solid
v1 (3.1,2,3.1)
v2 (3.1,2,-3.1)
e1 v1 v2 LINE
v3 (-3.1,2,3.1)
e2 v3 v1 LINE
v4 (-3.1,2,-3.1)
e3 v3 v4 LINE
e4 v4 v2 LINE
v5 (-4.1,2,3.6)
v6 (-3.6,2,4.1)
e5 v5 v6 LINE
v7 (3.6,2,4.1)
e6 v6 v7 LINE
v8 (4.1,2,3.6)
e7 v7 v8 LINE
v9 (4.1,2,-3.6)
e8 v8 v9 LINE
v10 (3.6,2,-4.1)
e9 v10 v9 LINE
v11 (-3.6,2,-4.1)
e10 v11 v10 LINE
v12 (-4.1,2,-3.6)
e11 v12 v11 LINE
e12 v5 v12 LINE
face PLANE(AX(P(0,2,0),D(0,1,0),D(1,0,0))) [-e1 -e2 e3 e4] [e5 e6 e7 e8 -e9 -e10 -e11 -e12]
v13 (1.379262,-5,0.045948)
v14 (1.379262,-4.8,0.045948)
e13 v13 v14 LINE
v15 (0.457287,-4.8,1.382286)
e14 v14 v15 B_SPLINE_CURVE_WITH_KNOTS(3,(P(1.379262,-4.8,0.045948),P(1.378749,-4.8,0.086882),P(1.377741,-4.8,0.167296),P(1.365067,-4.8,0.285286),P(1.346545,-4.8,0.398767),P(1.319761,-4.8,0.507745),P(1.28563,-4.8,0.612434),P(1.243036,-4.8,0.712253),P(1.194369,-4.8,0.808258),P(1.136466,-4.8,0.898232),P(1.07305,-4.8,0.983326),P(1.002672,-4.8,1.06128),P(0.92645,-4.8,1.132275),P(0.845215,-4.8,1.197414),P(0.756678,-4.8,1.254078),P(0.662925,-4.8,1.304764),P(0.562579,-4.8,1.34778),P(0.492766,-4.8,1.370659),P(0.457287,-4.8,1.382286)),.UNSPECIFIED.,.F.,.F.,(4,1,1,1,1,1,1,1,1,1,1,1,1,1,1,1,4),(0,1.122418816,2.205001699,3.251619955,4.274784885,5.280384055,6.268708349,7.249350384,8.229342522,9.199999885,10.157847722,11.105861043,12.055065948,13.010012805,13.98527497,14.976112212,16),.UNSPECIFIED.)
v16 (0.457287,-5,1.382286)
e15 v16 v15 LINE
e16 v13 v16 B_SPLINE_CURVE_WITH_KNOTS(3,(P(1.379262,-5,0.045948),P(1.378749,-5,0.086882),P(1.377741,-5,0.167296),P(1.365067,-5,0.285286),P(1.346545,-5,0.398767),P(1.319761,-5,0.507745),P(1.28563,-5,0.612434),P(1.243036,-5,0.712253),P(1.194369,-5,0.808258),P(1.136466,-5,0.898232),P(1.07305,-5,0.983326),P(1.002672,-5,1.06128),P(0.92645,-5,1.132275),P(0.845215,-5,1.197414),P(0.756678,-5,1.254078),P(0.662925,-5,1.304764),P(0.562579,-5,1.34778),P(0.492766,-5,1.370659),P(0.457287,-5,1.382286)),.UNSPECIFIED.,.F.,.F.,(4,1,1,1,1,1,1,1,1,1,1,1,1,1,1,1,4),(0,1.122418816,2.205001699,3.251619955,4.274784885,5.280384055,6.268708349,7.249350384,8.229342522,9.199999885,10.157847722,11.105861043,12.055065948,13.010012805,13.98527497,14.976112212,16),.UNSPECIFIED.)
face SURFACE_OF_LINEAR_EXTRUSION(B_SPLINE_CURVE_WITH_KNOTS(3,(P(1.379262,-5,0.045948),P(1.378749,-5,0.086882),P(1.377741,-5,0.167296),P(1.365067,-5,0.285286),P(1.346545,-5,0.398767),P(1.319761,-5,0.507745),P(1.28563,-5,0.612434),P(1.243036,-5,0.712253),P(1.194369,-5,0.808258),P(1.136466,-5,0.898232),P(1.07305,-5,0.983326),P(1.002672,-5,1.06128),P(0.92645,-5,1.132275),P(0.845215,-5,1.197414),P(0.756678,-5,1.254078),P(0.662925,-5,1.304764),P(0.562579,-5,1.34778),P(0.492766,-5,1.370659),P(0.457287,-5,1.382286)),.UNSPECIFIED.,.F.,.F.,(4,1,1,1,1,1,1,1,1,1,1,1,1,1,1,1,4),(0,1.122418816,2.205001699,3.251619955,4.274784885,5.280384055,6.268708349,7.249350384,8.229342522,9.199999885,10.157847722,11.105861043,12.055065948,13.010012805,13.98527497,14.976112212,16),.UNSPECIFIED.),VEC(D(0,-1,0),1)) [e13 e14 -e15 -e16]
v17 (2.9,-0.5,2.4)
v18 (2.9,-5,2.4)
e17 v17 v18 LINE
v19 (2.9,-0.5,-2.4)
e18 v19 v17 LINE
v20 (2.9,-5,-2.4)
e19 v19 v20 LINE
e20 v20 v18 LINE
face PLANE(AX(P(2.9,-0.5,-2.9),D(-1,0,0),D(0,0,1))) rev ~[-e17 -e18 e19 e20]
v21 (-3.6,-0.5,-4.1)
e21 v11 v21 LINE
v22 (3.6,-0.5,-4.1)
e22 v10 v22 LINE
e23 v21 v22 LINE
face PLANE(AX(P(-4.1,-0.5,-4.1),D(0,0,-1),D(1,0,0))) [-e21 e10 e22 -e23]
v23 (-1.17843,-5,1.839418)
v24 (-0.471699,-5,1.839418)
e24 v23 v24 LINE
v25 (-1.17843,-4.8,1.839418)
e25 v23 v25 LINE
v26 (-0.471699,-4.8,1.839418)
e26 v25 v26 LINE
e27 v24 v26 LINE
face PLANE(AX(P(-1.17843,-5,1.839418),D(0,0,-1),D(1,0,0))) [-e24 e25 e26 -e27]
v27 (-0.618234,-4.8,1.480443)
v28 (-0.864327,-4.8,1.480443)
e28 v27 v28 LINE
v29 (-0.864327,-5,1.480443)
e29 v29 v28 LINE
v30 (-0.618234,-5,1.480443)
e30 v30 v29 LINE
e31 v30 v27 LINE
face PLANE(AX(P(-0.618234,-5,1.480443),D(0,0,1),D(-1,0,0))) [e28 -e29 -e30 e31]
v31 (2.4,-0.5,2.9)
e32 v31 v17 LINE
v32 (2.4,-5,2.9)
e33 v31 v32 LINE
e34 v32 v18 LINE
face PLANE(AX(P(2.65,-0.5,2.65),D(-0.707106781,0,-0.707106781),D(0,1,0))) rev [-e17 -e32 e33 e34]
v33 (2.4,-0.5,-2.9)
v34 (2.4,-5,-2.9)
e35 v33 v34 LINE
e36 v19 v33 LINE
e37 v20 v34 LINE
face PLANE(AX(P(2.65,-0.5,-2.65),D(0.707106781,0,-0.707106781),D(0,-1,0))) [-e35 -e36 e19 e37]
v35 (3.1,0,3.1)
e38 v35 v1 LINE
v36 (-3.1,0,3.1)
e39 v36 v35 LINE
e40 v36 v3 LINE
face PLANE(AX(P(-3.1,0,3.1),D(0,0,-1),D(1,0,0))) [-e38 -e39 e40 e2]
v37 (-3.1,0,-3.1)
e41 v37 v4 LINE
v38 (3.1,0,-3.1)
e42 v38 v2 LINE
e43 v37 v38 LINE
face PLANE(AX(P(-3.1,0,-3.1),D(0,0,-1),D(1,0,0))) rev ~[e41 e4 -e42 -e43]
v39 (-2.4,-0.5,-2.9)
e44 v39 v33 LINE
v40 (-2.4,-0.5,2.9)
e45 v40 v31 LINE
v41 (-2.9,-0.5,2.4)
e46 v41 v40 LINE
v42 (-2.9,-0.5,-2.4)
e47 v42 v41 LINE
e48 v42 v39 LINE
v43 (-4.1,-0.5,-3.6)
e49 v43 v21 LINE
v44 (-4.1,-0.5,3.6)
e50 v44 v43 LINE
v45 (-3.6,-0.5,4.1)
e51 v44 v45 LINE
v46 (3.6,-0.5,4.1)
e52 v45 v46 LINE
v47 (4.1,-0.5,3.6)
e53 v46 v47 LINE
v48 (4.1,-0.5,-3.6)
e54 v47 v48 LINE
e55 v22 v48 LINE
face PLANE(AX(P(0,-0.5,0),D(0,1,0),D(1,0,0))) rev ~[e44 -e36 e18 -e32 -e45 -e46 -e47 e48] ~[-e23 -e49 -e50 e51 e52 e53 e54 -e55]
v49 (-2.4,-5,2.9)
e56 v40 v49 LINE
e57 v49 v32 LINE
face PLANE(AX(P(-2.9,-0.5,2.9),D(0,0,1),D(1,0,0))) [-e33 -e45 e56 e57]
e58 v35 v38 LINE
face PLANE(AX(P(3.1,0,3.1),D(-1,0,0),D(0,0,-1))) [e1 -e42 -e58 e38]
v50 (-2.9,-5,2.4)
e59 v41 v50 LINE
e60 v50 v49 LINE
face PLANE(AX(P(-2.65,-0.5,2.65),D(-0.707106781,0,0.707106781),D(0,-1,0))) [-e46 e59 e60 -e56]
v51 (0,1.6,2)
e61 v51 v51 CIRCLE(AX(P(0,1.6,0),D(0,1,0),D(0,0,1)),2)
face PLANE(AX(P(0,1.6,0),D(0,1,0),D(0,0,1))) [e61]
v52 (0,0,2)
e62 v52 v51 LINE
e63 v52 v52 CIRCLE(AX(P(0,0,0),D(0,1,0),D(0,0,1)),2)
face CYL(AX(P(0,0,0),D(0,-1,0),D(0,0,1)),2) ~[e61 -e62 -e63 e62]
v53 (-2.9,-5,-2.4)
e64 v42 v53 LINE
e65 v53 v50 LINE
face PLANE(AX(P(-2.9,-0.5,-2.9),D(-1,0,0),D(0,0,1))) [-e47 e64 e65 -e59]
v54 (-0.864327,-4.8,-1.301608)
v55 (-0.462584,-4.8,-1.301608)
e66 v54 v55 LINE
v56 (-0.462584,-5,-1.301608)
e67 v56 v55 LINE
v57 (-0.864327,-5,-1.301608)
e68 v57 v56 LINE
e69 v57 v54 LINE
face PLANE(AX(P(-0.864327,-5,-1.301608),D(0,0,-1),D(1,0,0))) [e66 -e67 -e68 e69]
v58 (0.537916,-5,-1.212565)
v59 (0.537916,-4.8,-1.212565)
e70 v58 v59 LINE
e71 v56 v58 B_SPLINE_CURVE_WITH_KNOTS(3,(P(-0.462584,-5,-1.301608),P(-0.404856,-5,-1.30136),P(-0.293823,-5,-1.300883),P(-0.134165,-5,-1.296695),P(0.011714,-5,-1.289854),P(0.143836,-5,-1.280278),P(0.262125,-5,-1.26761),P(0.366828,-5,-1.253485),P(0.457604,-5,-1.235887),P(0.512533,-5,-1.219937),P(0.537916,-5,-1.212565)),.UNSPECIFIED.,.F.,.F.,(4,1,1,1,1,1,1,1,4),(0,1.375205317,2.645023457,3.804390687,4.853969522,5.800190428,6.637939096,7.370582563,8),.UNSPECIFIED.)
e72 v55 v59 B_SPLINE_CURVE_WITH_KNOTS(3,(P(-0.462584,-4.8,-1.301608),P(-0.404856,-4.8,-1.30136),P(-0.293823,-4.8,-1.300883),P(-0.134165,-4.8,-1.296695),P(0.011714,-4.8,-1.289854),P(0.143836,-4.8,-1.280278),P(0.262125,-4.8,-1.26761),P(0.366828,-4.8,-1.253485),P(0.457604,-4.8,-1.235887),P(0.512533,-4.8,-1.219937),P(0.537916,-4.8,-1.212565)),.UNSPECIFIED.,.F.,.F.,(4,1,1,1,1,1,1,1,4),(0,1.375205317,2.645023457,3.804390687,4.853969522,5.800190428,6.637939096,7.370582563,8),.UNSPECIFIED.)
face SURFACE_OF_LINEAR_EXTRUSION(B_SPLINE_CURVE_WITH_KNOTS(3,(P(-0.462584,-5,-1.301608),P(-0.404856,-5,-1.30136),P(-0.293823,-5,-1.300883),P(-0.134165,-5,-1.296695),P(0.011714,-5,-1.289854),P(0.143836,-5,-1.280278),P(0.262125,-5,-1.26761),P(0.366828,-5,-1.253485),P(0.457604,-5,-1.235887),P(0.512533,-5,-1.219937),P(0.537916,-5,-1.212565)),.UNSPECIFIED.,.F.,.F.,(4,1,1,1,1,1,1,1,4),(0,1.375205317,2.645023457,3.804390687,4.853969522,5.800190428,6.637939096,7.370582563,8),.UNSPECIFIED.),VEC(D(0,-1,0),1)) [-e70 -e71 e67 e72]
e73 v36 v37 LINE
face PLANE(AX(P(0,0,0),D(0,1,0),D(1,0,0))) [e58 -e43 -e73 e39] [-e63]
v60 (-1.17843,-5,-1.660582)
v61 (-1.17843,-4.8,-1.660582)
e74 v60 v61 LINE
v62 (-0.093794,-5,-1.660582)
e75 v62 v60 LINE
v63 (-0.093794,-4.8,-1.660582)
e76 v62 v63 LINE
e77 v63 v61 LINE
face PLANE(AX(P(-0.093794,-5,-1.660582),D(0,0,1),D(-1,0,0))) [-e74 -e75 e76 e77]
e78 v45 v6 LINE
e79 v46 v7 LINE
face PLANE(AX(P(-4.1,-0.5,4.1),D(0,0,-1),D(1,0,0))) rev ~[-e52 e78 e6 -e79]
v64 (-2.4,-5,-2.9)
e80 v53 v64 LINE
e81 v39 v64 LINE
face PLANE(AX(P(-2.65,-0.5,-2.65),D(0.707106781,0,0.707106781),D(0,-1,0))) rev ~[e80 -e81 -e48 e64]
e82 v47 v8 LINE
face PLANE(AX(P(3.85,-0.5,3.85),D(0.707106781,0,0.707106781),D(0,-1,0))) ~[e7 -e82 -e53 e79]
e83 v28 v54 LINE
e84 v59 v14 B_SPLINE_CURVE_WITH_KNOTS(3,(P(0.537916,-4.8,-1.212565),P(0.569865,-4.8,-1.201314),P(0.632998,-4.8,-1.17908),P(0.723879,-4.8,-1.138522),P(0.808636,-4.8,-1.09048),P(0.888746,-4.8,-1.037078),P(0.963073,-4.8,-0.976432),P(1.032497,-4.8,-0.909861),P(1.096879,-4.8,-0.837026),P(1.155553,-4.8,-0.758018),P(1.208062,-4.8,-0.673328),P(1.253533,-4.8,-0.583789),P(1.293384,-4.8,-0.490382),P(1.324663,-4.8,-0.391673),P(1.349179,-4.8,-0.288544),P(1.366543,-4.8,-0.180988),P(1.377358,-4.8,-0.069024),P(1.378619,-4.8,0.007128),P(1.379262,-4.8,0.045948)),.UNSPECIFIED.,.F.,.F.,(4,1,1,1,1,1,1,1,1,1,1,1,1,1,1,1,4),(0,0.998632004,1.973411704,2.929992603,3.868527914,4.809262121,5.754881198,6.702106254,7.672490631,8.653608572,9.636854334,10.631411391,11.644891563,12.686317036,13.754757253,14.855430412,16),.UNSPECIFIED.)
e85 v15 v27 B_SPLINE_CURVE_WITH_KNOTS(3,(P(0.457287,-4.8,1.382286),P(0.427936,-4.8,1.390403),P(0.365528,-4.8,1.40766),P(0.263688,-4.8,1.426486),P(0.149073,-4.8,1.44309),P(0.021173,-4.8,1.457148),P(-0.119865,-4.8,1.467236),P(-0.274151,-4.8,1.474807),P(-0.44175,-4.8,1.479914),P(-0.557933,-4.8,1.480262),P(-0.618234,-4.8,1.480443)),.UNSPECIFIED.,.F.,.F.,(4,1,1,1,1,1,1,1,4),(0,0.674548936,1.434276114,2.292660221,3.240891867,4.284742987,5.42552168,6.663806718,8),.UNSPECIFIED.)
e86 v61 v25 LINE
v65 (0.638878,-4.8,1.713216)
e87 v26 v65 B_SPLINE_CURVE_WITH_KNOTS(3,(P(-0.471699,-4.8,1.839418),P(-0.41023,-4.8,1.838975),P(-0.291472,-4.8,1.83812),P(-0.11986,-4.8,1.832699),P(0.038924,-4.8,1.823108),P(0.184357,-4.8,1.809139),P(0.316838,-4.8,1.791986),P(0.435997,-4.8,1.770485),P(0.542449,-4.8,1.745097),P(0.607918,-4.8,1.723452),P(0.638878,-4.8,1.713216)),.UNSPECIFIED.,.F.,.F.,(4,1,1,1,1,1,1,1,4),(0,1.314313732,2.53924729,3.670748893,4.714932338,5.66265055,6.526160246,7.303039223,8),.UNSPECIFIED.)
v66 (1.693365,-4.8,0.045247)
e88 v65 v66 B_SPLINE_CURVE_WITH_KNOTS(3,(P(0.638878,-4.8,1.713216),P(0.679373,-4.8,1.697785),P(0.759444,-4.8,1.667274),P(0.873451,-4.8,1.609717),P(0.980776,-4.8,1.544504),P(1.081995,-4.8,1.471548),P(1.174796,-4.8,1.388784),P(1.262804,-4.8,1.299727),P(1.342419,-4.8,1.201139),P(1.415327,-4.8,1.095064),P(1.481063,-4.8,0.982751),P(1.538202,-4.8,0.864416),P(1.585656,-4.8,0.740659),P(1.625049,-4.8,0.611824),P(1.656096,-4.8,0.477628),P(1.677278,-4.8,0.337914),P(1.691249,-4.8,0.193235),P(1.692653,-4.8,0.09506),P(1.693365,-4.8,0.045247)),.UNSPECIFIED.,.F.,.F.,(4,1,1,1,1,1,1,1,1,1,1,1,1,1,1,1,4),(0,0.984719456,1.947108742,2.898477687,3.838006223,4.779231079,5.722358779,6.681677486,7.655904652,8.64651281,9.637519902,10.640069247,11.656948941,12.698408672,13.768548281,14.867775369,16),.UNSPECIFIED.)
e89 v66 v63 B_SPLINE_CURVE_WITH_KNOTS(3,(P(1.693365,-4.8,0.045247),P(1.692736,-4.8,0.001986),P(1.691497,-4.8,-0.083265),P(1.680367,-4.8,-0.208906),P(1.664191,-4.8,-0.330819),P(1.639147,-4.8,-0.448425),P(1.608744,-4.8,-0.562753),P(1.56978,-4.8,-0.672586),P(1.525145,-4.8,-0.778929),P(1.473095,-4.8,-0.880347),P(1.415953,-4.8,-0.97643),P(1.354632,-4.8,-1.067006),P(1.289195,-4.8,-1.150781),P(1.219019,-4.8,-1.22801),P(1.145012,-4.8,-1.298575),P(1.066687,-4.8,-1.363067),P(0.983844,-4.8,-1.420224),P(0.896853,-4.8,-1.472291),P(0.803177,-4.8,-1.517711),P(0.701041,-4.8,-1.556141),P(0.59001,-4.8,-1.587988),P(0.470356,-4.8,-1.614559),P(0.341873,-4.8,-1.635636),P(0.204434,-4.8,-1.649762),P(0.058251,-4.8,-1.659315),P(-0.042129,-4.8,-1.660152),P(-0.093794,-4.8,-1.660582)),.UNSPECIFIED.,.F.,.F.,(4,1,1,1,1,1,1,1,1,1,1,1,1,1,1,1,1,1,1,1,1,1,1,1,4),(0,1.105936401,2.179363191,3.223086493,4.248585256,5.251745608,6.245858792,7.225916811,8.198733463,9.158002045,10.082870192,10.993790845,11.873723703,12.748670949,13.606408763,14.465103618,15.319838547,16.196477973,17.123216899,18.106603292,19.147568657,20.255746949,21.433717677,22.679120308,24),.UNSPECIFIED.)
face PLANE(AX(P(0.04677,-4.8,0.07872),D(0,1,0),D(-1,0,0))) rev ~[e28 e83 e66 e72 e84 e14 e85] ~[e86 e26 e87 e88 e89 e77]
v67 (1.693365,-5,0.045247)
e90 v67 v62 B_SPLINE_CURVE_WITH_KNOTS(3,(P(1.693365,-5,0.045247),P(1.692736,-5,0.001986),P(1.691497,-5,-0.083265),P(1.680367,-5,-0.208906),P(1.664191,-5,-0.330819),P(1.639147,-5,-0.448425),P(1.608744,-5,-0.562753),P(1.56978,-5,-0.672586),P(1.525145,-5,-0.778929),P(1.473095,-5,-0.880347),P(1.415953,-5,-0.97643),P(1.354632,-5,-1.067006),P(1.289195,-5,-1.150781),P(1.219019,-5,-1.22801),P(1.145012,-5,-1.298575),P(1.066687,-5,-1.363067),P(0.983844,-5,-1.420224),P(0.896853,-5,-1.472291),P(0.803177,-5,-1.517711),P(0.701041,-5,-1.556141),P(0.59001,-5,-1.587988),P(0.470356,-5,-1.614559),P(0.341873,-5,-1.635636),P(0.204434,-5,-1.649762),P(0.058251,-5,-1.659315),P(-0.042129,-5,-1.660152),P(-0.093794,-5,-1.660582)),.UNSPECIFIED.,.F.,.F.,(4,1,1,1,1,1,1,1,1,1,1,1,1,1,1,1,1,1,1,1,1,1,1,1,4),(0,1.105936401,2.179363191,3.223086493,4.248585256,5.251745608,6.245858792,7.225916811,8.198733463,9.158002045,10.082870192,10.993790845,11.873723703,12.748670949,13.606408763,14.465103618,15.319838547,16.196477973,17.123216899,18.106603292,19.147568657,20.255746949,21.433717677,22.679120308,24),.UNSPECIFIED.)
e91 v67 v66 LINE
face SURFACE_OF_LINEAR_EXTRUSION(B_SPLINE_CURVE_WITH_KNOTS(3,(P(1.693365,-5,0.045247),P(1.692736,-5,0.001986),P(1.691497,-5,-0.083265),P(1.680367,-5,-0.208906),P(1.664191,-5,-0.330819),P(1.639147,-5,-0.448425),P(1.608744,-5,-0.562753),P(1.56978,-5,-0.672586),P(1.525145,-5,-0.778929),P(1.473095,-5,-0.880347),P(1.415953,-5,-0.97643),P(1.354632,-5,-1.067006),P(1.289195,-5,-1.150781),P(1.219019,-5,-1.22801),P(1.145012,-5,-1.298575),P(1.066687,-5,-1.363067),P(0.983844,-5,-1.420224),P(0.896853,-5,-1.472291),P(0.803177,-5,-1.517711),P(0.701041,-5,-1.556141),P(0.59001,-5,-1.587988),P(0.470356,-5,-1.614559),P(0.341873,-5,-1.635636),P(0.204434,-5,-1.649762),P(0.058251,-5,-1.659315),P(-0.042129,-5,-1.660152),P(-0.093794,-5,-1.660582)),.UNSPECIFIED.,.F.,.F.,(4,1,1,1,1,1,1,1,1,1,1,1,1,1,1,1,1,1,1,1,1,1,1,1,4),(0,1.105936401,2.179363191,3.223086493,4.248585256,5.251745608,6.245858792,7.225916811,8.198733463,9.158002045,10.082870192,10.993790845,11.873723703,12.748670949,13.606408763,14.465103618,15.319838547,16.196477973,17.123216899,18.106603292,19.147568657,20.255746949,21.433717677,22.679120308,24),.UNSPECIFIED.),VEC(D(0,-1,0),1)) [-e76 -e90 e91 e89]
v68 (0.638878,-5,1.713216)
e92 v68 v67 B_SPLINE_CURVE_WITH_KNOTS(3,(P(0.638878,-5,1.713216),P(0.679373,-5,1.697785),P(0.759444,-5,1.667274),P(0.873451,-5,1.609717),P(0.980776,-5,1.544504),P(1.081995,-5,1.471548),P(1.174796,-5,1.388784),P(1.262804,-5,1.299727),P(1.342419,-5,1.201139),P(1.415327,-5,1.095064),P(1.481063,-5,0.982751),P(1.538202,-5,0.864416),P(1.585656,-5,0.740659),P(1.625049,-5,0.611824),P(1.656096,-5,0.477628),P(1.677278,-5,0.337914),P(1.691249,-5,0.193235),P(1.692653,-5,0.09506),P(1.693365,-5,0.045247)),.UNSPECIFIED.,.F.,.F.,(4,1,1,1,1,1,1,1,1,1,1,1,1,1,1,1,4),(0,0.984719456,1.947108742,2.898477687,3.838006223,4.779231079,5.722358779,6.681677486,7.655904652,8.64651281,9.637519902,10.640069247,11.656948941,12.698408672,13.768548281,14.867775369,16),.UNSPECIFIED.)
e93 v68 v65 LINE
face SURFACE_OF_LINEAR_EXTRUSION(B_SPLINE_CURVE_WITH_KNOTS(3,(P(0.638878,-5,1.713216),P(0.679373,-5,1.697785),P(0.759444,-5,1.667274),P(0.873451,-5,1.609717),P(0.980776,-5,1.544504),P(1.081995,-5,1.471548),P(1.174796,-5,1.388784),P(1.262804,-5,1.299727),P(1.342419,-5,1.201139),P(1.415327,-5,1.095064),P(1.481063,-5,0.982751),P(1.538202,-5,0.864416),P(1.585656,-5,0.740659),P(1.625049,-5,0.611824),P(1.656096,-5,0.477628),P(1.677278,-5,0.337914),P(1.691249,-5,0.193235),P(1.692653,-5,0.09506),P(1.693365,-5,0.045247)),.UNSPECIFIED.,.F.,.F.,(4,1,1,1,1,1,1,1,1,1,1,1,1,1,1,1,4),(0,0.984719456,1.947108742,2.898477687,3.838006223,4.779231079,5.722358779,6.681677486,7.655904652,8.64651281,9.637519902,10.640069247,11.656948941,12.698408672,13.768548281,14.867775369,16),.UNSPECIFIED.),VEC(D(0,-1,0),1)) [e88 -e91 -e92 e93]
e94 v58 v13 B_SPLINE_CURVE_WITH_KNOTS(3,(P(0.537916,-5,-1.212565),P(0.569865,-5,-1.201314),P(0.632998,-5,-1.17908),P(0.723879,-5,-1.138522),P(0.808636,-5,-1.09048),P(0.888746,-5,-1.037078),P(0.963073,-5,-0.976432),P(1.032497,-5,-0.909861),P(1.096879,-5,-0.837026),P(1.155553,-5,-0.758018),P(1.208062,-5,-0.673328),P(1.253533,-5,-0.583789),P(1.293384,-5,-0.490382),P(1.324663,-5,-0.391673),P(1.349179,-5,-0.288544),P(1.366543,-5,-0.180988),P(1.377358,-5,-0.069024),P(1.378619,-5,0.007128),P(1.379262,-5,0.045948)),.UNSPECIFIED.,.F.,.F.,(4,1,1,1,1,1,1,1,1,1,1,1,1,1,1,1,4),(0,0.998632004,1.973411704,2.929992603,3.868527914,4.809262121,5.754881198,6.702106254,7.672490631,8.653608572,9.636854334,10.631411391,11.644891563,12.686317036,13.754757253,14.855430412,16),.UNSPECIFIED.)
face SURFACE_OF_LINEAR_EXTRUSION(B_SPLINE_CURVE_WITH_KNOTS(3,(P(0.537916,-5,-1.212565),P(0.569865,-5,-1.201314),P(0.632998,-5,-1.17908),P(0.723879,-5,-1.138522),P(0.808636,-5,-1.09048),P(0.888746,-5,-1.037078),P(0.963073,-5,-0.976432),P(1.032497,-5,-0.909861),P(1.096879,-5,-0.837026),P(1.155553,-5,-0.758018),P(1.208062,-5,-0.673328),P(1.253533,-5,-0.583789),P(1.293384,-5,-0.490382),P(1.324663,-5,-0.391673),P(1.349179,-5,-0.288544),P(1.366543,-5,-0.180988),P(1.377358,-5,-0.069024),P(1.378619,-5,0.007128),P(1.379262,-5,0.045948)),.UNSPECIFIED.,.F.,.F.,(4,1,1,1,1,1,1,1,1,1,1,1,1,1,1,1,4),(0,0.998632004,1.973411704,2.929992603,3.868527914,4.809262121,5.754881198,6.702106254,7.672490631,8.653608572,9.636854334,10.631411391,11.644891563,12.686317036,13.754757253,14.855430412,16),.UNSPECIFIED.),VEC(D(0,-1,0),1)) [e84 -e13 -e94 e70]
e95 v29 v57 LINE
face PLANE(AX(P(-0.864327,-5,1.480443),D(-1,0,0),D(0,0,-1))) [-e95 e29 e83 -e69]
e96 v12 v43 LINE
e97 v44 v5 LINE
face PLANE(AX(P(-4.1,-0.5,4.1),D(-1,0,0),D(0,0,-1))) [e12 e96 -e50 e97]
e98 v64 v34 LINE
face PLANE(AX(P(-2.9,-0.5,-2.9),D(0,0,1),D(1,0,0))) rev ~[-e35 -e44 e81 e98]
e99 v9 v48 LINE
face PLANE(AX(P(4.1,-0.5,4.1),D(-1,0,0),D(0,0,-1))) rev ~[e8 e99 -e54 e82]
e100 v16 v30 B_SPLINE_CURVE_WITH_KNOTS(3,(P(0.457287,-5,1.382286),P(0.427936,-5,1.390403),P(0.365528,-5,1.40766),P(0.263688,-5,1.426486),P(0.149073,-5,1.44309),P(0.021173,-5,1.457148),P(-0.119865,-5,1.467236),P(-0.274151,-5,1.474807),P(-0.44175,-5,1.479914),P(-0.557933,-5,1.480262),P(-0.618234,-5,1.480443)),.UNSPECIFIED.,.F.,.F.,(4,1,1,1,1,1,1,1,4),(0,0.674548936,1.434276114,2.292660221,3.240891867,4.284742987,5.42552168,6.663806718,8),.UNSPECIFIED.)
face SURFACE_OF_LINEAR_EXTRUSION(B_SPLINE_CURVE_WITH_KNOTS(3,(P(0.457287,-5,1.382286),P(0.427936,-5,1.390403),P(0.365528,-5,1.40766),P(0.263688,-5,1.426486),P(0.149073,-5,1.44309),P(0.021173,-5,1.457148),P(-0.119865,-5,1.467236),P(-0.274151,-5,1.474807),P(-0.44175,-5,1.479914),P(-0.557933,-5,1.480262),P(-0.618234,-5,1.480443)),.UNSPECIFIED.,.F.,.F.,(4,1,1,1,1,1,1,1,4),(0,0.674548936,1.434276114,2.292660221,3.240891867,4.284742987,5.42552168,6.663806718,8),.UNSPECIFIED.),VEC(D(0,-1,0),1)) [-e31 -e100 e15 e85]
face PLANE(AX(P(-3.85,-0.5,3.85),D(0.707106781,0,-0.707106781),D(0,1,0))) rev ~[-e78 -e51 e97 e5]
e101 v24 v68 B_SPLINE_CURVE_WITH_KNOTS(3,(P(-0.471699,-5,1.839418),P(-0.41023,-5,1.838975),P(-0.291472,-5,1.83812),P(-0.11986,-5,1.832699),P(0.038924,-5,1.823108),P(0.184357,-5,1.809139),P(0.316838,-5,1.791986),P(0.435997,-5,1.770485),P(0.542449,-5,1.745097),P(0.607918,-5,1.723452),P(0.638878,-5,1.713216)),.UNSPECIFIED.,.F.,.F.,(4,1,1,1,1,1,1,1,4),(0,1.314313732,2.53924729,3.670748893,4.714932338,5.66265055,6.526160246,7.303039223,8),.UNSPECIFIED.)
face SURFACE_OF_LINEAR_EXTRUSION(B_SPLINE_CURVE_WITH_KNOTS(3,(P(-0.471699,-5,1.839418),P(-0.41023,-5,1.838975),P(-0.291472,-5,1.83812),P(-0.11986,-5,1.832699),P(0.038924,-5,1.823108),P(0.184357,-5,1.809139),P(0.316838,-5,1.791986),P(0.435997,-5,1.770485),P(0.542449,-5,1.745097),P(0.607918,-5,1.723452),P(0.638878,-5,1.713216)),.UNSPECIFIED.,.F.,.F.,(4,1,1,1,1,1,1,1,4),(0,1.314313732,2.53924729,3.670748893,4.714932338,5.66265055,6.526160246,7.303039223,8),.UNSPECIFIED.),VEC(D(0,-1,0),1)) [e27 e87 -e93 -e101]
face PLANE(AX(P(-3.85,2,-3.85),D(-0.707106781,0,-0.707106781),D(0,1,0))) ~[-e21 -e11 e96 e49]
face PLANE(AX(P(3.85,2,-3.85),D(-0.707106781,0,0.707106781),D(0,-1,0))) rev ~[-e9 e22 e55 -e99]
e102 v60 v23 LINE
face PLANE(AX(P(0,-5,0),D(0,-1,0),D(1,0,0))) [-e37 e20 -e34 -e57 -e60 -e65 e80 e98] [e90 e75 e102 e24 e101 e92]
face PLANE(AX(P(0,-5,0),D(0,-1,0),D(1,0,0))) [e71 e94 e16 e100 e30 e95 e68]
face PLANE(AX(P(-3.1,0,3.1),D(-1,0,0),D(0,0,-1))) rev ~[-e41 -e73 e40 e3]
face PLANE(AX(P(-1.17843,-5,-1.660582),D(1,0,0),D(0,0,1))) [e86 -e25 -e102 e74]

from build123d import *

# Parameters (mm, degrees)
SKETCH1_R           = 2
BOSS_EXTRUDE1_DEPTH = 1.6
SKETCH1_3_W         = 8.2
SKETCH1_3_H         = 8.2
SKETCH1_3_W_2       = 6.2
SKETCH1_3_H_2       = 6.2
BOSS_EXTRUDE2_DEPTH = 2
SKETCH1_4_W         = 8.2
SKETCH1_4_H         = 8.2
BOSS_EXTRUDE3_DEPTH = 0.5
SKETCH3_W           = 5.8
SKETCH3_H           = 5.8
BOSS_EXTRUDE4_DEPTH = 4.5
CHAMFER1_SIZE       = 0.5
CUT_EXTRUDE1_DEPTH  = 0.2


with BuildPart() as part:
    # Sketch1 → Boss-Extrude1 (new body)
    with BuildSketch(Plane(origin=(0, 0, 0), x_dir=(1, 0, 0), z_dir=(0, 1, 0))):
        Circle(SKETCH1_R)
    extrude(amount=BOSS_EXTRUDE1_DEPTH)



with BuildPart() as body_2:
    # Sketch1<3> → Boss-Extrude2 (new body)
    with BuildSketch(Plane(origin=(0, 0, 0), x_dir=(1, 0, 0), z_dir=(0, 1, 0))):
        Rectangle(SKETCH1_3_W, SKETCH1_3_H)
        Rectangle(SKETCH1_3_W_2, SKETCH1_3_H_2, mode=Mode.SUBTRACT)
    extrude(amount=BOSS_EXTRUDE2_DEPTH)


with BuildPart() as part_1:
    add(part.part)

    add(body_2.part)  # Boss-Extrude3 merges body 2
    # Sketch1<4> → Boss-Extrude3 (add)
    with BuildSketch(Plane(origin=(0, 0, 0), x_dir=(1, 0, 0), z_dir=(0, 1, 0))):
        Rectangle(SKETCH1_4_W, SKETCH1_4_H)
    extrude(amount=-BOSS_EXTRUDE3_DEPTH)

    # Sketch3 → Boss-Extrude4 (add)
    with BuildSketch(Plane.XZ.offset(0.5)):
        Rectangle(SKETCH3_W, SKETCH3_H)
    extrude(amount=BOSS_EXTRUDE4_DEPTH)

    # Chamfer1
    chamfer1_edges = [part_1.edges().sort_by_distance(p)[0] for p in [
        (-4.1, 0.75, -4.1),
        (4.1, 0.75, -4.1),
        (-4.1, 0.75, 4.1),
        (4.1, 0.75, 4.1),
        (-2.9, -2.75, 2.9),
        (2.9, -2.75, 2.9),
        (-2.9, -2.75, -2.9),
        (2.9, -2.75, -2.9),
    ]]
    chamfer(chamfer1_edges, length=CHAMFER1_SIZE)

    # Sketch4 → Cut-Extrude1 (cut)
    with BuildSketch(Plane.XZ.offset(5)):
        with BuildLine():
            Line((-1.178429818, -1.660582309), (-1.178429818, 1.839417691))
            Line((-1.178429818, 1.839417691), (-0.471699048, 1.839417691))
            add(Edge.make_bspline(
                [(-0.471699048, 1.839417691), (-0.41023006, 1.838975121), (-0.291472295, 1.838120078), (-0.119859847, 1.832698686), (0.038923915, 1.823108221), (0.184356774, 1.809138694), (0.316837986, 1.791985661), (0.435996594, 1.770485257), (0.542448737, 1.745097086), (0.607918178, 1.723451636), (0.638877875, 1.713215767)],
                knots=[0, 0, 0, 0, 1.314313732, 2.53924729, 3.670748893, 4.714932338, 5.66265055, 6.526160246, 7.303039223, 8, 8, 8, 8], degree=3))
            add(Edge.make_bspline(
                [(0.638877875, 1.713215767), (0.679372614, 1.697785062), (0.759443806, 1.667273568), (0.873450929, 1.609717266), (0.980776292, 1.544504165), (1.081995437, 1.471548302), (1.174796263, 1.388783953), (1.26280416, 1.299726868), (1.342418884, 1.201138528), (1.41532718, 1.09506354), (1.481062839, 0.982751487), (1.538201997, 0.864416379), (1.58565599, 0.740659171), (1.625049217, 0.611824023), (1.656095674, 0.477627645), (1.677277606, 0.337913779), (1.691248596, 0.193234589), (1.692652647, 0.095060126), (1.693365054, 0.045247017)],
                knots=[0, 0, 0, 0, 0.984719456, 1.947108742, 2.898477687, 3.838006223, 4.779231079, 5.722358779, 6.681677486, 7.655904652, 8.64651281, 9.637519902, 10.640069247, 11.656948941, 12.698408672, 13.768548281, 14.867775369, 16, 16, 16, 16], degree=3))
            add(Edge.make_bspline(
                [(1.693365054, 0.045247017), (1.692736087, 0.001985779), (1.691496641, -0.08326501), (1.680367325, -0.208905906), (1.664191005, -0.330819477), (1.639146807, -0.448425177), (1.608744293, -0.562753395), (1.569780142, -0.672585639), (1.525144646, -0.778929449), (1.473094767, -0.880346924), (1.415953382, -0.976430297), (1.354631639, -1.067005825), (1.289194944, -1.150781047), (1.219019311, -1.228009659), (1.145011594, -1.298575237), (1.066687264, -1.363067252), (0.983844213, -1.420223807), (0.89685349, -1.472290916), (0.803177361, -1.517711271), (0.701041495, -1.556141281), (0.590010317, -1.587987896), (0.47035636, -1.614558792), (0.341872882, -1.635636095), (0.204433916, -1.649762487), (0.058250627, -1.65931542), (-0.042128638, -1.660151813), (-0.093794401, -1.660582309)],
                knots=[0, 0, 0, 0, 1.105936401, 2.179363191, 3.223086493, 4.248585256, 5.251745608, 6.245858792, 7.225916811, 8.198733463, 9.158002045, 10.082870192, 10.993790845, 11.873723703, 12.748670949, 13.606408763, 14.465103618, 15.319838547, 16.196477973, 17.123216899, 18.106603292, 19.147568657, 20.255746949, 21.433717677, 22.679120308, 24, 24, 24, 24], degree=3))
            Line((-0.093794401, -1.660582309), (-1.178429818, -1.660582309))
        make_face()
        with BuildLine():
            Line((-0.864327254, -1.30160795), (-0.462584465, -1.30160795))
            add(Edge.make_bspline(
                [(-0.462584465, -1.30160795), (-0.404856094, -1.301359854), (-0.293823296, -1.300882674), (-0.134165299, -1.296695471), (0.011714098, -1.289853533), (0.143835607, -1.280278455), (0.262124632, -1.26760984), (0.366828381, -1.253484938), (0.45760364, -1.235887487), (0.512533077, -1.219936527), (0.537916336, -1.212565483)],
                knots=[0, 0, 0, 0, 1.375205317, 2.645023457, 3.804390687, 4.853969522, 5.800190428, 6.637939096, 7.370582563, 8, 8, 8, 8], degree=3))
            add(Edge.make_bspline(
                [(0.537916336, -1.212565483), (0.569864698, -1.201313924), (0.632998337, -1.179079551), (0.723879422, -1.13852189), (0.808636426, -1.09047982), (0.888746452, -1.037077546), (0.963073107, -0.976431544), (1.032497223, -0.909860555), (1.096879025, -0.83702578), (1.155553333, -0.758017619), (1.208061637, -0.673327823), (1.253532866, -0.583788989), (1.293384398, -0.490382179), (1.32466299, -0.39167302), (1.349178575, -0.288543962), (1.366543263, -0.180987749), (1.377357987, -0.069024467), (1.378619435, 0.007127657), (1.37926249, 0.045948139)],
                knots=[0, 0, 0, 0, 0.998632004, 1.973411704, 2.929992603, 3.868527914, 4.809262121, 5.754881198, 6.702106254, 7.672490631, 8.653608572, 9.636854334, 10.631411391, 11.644891563, 12.686317036, 13.754757253, 14.855430412, 16, 16, 16, 16], degree=3))
            add(Edge.make_bspline(
                [(1.37926249, 0.045948139), (1.378749203, 0.08688162), (1.377740845, 0.167295804), (1.365066535, 0.285286499), (1.346544979, 0.39876715), (1.319761293, 0.507745345), (1.285630414, 0.612433697), (1.243035773, 0.712253207), (1.194369153, 0.808258076), (1.136465816, 0.898232442), (1.073050223, 0.983325551), (1.002672344, 1.061280467), (0.926450305, 1.132274767), (0.845215456, 1.19741408), (0.756678357, 1.254077756), (0.662924666, 1.304764437), (0.562578995, 1.347780328), (0.492766299, 1.370659191), (0.45728733, 1.38228628)],
                knots=[0, 0, 0, 0, 1.122418816, 2.205001699, 3.251619955, 4.274784885, 5.280384055, 6.268708349, 7.249350384, 8.229342522, 9.199999885, 10.157847722, 11.105861043, 12.055065948, 13.010012805, 13.98527497, 14.976112212, 16, 16, 16, 16], degree=3))
            add(Edge.make_bspline(
                [(0.45728733, 1.38228628), (0.427936183, 1.390402708), (0.365527593, 1.407660461), (0.263688129, 1.426485833), (0.14907298, 1.443090332), (0.021173279, 1.457148372), (-0.11986518, 1.467235693), (-0.274150868, 1.474807008), (-0.441750473, 1.47991364), (-0.557933007, 1.480262347), (-0.618233504, 1.480443332)],
                knots=[0, 0, 0, 0, 0.674548936, 1.434276114, 2.292660221, 3.240891867, 4.284742987, 5.42552168, 6.663806718, 8, 8, 8, 8], degree=3))
            Line((-0.618233504, 1.480443332), (-0.864327254, 1.480443332))
            Line((-0.864327254, 1.480443332), (-0.864327254, -1.30160795))
        make_face(mode=Mode.SUBTRACT)
    extrude(amount=-CUT_EXTRUDE1_DEPTH, mode=Mode.SUBTRACT)


solid = part_1.part
